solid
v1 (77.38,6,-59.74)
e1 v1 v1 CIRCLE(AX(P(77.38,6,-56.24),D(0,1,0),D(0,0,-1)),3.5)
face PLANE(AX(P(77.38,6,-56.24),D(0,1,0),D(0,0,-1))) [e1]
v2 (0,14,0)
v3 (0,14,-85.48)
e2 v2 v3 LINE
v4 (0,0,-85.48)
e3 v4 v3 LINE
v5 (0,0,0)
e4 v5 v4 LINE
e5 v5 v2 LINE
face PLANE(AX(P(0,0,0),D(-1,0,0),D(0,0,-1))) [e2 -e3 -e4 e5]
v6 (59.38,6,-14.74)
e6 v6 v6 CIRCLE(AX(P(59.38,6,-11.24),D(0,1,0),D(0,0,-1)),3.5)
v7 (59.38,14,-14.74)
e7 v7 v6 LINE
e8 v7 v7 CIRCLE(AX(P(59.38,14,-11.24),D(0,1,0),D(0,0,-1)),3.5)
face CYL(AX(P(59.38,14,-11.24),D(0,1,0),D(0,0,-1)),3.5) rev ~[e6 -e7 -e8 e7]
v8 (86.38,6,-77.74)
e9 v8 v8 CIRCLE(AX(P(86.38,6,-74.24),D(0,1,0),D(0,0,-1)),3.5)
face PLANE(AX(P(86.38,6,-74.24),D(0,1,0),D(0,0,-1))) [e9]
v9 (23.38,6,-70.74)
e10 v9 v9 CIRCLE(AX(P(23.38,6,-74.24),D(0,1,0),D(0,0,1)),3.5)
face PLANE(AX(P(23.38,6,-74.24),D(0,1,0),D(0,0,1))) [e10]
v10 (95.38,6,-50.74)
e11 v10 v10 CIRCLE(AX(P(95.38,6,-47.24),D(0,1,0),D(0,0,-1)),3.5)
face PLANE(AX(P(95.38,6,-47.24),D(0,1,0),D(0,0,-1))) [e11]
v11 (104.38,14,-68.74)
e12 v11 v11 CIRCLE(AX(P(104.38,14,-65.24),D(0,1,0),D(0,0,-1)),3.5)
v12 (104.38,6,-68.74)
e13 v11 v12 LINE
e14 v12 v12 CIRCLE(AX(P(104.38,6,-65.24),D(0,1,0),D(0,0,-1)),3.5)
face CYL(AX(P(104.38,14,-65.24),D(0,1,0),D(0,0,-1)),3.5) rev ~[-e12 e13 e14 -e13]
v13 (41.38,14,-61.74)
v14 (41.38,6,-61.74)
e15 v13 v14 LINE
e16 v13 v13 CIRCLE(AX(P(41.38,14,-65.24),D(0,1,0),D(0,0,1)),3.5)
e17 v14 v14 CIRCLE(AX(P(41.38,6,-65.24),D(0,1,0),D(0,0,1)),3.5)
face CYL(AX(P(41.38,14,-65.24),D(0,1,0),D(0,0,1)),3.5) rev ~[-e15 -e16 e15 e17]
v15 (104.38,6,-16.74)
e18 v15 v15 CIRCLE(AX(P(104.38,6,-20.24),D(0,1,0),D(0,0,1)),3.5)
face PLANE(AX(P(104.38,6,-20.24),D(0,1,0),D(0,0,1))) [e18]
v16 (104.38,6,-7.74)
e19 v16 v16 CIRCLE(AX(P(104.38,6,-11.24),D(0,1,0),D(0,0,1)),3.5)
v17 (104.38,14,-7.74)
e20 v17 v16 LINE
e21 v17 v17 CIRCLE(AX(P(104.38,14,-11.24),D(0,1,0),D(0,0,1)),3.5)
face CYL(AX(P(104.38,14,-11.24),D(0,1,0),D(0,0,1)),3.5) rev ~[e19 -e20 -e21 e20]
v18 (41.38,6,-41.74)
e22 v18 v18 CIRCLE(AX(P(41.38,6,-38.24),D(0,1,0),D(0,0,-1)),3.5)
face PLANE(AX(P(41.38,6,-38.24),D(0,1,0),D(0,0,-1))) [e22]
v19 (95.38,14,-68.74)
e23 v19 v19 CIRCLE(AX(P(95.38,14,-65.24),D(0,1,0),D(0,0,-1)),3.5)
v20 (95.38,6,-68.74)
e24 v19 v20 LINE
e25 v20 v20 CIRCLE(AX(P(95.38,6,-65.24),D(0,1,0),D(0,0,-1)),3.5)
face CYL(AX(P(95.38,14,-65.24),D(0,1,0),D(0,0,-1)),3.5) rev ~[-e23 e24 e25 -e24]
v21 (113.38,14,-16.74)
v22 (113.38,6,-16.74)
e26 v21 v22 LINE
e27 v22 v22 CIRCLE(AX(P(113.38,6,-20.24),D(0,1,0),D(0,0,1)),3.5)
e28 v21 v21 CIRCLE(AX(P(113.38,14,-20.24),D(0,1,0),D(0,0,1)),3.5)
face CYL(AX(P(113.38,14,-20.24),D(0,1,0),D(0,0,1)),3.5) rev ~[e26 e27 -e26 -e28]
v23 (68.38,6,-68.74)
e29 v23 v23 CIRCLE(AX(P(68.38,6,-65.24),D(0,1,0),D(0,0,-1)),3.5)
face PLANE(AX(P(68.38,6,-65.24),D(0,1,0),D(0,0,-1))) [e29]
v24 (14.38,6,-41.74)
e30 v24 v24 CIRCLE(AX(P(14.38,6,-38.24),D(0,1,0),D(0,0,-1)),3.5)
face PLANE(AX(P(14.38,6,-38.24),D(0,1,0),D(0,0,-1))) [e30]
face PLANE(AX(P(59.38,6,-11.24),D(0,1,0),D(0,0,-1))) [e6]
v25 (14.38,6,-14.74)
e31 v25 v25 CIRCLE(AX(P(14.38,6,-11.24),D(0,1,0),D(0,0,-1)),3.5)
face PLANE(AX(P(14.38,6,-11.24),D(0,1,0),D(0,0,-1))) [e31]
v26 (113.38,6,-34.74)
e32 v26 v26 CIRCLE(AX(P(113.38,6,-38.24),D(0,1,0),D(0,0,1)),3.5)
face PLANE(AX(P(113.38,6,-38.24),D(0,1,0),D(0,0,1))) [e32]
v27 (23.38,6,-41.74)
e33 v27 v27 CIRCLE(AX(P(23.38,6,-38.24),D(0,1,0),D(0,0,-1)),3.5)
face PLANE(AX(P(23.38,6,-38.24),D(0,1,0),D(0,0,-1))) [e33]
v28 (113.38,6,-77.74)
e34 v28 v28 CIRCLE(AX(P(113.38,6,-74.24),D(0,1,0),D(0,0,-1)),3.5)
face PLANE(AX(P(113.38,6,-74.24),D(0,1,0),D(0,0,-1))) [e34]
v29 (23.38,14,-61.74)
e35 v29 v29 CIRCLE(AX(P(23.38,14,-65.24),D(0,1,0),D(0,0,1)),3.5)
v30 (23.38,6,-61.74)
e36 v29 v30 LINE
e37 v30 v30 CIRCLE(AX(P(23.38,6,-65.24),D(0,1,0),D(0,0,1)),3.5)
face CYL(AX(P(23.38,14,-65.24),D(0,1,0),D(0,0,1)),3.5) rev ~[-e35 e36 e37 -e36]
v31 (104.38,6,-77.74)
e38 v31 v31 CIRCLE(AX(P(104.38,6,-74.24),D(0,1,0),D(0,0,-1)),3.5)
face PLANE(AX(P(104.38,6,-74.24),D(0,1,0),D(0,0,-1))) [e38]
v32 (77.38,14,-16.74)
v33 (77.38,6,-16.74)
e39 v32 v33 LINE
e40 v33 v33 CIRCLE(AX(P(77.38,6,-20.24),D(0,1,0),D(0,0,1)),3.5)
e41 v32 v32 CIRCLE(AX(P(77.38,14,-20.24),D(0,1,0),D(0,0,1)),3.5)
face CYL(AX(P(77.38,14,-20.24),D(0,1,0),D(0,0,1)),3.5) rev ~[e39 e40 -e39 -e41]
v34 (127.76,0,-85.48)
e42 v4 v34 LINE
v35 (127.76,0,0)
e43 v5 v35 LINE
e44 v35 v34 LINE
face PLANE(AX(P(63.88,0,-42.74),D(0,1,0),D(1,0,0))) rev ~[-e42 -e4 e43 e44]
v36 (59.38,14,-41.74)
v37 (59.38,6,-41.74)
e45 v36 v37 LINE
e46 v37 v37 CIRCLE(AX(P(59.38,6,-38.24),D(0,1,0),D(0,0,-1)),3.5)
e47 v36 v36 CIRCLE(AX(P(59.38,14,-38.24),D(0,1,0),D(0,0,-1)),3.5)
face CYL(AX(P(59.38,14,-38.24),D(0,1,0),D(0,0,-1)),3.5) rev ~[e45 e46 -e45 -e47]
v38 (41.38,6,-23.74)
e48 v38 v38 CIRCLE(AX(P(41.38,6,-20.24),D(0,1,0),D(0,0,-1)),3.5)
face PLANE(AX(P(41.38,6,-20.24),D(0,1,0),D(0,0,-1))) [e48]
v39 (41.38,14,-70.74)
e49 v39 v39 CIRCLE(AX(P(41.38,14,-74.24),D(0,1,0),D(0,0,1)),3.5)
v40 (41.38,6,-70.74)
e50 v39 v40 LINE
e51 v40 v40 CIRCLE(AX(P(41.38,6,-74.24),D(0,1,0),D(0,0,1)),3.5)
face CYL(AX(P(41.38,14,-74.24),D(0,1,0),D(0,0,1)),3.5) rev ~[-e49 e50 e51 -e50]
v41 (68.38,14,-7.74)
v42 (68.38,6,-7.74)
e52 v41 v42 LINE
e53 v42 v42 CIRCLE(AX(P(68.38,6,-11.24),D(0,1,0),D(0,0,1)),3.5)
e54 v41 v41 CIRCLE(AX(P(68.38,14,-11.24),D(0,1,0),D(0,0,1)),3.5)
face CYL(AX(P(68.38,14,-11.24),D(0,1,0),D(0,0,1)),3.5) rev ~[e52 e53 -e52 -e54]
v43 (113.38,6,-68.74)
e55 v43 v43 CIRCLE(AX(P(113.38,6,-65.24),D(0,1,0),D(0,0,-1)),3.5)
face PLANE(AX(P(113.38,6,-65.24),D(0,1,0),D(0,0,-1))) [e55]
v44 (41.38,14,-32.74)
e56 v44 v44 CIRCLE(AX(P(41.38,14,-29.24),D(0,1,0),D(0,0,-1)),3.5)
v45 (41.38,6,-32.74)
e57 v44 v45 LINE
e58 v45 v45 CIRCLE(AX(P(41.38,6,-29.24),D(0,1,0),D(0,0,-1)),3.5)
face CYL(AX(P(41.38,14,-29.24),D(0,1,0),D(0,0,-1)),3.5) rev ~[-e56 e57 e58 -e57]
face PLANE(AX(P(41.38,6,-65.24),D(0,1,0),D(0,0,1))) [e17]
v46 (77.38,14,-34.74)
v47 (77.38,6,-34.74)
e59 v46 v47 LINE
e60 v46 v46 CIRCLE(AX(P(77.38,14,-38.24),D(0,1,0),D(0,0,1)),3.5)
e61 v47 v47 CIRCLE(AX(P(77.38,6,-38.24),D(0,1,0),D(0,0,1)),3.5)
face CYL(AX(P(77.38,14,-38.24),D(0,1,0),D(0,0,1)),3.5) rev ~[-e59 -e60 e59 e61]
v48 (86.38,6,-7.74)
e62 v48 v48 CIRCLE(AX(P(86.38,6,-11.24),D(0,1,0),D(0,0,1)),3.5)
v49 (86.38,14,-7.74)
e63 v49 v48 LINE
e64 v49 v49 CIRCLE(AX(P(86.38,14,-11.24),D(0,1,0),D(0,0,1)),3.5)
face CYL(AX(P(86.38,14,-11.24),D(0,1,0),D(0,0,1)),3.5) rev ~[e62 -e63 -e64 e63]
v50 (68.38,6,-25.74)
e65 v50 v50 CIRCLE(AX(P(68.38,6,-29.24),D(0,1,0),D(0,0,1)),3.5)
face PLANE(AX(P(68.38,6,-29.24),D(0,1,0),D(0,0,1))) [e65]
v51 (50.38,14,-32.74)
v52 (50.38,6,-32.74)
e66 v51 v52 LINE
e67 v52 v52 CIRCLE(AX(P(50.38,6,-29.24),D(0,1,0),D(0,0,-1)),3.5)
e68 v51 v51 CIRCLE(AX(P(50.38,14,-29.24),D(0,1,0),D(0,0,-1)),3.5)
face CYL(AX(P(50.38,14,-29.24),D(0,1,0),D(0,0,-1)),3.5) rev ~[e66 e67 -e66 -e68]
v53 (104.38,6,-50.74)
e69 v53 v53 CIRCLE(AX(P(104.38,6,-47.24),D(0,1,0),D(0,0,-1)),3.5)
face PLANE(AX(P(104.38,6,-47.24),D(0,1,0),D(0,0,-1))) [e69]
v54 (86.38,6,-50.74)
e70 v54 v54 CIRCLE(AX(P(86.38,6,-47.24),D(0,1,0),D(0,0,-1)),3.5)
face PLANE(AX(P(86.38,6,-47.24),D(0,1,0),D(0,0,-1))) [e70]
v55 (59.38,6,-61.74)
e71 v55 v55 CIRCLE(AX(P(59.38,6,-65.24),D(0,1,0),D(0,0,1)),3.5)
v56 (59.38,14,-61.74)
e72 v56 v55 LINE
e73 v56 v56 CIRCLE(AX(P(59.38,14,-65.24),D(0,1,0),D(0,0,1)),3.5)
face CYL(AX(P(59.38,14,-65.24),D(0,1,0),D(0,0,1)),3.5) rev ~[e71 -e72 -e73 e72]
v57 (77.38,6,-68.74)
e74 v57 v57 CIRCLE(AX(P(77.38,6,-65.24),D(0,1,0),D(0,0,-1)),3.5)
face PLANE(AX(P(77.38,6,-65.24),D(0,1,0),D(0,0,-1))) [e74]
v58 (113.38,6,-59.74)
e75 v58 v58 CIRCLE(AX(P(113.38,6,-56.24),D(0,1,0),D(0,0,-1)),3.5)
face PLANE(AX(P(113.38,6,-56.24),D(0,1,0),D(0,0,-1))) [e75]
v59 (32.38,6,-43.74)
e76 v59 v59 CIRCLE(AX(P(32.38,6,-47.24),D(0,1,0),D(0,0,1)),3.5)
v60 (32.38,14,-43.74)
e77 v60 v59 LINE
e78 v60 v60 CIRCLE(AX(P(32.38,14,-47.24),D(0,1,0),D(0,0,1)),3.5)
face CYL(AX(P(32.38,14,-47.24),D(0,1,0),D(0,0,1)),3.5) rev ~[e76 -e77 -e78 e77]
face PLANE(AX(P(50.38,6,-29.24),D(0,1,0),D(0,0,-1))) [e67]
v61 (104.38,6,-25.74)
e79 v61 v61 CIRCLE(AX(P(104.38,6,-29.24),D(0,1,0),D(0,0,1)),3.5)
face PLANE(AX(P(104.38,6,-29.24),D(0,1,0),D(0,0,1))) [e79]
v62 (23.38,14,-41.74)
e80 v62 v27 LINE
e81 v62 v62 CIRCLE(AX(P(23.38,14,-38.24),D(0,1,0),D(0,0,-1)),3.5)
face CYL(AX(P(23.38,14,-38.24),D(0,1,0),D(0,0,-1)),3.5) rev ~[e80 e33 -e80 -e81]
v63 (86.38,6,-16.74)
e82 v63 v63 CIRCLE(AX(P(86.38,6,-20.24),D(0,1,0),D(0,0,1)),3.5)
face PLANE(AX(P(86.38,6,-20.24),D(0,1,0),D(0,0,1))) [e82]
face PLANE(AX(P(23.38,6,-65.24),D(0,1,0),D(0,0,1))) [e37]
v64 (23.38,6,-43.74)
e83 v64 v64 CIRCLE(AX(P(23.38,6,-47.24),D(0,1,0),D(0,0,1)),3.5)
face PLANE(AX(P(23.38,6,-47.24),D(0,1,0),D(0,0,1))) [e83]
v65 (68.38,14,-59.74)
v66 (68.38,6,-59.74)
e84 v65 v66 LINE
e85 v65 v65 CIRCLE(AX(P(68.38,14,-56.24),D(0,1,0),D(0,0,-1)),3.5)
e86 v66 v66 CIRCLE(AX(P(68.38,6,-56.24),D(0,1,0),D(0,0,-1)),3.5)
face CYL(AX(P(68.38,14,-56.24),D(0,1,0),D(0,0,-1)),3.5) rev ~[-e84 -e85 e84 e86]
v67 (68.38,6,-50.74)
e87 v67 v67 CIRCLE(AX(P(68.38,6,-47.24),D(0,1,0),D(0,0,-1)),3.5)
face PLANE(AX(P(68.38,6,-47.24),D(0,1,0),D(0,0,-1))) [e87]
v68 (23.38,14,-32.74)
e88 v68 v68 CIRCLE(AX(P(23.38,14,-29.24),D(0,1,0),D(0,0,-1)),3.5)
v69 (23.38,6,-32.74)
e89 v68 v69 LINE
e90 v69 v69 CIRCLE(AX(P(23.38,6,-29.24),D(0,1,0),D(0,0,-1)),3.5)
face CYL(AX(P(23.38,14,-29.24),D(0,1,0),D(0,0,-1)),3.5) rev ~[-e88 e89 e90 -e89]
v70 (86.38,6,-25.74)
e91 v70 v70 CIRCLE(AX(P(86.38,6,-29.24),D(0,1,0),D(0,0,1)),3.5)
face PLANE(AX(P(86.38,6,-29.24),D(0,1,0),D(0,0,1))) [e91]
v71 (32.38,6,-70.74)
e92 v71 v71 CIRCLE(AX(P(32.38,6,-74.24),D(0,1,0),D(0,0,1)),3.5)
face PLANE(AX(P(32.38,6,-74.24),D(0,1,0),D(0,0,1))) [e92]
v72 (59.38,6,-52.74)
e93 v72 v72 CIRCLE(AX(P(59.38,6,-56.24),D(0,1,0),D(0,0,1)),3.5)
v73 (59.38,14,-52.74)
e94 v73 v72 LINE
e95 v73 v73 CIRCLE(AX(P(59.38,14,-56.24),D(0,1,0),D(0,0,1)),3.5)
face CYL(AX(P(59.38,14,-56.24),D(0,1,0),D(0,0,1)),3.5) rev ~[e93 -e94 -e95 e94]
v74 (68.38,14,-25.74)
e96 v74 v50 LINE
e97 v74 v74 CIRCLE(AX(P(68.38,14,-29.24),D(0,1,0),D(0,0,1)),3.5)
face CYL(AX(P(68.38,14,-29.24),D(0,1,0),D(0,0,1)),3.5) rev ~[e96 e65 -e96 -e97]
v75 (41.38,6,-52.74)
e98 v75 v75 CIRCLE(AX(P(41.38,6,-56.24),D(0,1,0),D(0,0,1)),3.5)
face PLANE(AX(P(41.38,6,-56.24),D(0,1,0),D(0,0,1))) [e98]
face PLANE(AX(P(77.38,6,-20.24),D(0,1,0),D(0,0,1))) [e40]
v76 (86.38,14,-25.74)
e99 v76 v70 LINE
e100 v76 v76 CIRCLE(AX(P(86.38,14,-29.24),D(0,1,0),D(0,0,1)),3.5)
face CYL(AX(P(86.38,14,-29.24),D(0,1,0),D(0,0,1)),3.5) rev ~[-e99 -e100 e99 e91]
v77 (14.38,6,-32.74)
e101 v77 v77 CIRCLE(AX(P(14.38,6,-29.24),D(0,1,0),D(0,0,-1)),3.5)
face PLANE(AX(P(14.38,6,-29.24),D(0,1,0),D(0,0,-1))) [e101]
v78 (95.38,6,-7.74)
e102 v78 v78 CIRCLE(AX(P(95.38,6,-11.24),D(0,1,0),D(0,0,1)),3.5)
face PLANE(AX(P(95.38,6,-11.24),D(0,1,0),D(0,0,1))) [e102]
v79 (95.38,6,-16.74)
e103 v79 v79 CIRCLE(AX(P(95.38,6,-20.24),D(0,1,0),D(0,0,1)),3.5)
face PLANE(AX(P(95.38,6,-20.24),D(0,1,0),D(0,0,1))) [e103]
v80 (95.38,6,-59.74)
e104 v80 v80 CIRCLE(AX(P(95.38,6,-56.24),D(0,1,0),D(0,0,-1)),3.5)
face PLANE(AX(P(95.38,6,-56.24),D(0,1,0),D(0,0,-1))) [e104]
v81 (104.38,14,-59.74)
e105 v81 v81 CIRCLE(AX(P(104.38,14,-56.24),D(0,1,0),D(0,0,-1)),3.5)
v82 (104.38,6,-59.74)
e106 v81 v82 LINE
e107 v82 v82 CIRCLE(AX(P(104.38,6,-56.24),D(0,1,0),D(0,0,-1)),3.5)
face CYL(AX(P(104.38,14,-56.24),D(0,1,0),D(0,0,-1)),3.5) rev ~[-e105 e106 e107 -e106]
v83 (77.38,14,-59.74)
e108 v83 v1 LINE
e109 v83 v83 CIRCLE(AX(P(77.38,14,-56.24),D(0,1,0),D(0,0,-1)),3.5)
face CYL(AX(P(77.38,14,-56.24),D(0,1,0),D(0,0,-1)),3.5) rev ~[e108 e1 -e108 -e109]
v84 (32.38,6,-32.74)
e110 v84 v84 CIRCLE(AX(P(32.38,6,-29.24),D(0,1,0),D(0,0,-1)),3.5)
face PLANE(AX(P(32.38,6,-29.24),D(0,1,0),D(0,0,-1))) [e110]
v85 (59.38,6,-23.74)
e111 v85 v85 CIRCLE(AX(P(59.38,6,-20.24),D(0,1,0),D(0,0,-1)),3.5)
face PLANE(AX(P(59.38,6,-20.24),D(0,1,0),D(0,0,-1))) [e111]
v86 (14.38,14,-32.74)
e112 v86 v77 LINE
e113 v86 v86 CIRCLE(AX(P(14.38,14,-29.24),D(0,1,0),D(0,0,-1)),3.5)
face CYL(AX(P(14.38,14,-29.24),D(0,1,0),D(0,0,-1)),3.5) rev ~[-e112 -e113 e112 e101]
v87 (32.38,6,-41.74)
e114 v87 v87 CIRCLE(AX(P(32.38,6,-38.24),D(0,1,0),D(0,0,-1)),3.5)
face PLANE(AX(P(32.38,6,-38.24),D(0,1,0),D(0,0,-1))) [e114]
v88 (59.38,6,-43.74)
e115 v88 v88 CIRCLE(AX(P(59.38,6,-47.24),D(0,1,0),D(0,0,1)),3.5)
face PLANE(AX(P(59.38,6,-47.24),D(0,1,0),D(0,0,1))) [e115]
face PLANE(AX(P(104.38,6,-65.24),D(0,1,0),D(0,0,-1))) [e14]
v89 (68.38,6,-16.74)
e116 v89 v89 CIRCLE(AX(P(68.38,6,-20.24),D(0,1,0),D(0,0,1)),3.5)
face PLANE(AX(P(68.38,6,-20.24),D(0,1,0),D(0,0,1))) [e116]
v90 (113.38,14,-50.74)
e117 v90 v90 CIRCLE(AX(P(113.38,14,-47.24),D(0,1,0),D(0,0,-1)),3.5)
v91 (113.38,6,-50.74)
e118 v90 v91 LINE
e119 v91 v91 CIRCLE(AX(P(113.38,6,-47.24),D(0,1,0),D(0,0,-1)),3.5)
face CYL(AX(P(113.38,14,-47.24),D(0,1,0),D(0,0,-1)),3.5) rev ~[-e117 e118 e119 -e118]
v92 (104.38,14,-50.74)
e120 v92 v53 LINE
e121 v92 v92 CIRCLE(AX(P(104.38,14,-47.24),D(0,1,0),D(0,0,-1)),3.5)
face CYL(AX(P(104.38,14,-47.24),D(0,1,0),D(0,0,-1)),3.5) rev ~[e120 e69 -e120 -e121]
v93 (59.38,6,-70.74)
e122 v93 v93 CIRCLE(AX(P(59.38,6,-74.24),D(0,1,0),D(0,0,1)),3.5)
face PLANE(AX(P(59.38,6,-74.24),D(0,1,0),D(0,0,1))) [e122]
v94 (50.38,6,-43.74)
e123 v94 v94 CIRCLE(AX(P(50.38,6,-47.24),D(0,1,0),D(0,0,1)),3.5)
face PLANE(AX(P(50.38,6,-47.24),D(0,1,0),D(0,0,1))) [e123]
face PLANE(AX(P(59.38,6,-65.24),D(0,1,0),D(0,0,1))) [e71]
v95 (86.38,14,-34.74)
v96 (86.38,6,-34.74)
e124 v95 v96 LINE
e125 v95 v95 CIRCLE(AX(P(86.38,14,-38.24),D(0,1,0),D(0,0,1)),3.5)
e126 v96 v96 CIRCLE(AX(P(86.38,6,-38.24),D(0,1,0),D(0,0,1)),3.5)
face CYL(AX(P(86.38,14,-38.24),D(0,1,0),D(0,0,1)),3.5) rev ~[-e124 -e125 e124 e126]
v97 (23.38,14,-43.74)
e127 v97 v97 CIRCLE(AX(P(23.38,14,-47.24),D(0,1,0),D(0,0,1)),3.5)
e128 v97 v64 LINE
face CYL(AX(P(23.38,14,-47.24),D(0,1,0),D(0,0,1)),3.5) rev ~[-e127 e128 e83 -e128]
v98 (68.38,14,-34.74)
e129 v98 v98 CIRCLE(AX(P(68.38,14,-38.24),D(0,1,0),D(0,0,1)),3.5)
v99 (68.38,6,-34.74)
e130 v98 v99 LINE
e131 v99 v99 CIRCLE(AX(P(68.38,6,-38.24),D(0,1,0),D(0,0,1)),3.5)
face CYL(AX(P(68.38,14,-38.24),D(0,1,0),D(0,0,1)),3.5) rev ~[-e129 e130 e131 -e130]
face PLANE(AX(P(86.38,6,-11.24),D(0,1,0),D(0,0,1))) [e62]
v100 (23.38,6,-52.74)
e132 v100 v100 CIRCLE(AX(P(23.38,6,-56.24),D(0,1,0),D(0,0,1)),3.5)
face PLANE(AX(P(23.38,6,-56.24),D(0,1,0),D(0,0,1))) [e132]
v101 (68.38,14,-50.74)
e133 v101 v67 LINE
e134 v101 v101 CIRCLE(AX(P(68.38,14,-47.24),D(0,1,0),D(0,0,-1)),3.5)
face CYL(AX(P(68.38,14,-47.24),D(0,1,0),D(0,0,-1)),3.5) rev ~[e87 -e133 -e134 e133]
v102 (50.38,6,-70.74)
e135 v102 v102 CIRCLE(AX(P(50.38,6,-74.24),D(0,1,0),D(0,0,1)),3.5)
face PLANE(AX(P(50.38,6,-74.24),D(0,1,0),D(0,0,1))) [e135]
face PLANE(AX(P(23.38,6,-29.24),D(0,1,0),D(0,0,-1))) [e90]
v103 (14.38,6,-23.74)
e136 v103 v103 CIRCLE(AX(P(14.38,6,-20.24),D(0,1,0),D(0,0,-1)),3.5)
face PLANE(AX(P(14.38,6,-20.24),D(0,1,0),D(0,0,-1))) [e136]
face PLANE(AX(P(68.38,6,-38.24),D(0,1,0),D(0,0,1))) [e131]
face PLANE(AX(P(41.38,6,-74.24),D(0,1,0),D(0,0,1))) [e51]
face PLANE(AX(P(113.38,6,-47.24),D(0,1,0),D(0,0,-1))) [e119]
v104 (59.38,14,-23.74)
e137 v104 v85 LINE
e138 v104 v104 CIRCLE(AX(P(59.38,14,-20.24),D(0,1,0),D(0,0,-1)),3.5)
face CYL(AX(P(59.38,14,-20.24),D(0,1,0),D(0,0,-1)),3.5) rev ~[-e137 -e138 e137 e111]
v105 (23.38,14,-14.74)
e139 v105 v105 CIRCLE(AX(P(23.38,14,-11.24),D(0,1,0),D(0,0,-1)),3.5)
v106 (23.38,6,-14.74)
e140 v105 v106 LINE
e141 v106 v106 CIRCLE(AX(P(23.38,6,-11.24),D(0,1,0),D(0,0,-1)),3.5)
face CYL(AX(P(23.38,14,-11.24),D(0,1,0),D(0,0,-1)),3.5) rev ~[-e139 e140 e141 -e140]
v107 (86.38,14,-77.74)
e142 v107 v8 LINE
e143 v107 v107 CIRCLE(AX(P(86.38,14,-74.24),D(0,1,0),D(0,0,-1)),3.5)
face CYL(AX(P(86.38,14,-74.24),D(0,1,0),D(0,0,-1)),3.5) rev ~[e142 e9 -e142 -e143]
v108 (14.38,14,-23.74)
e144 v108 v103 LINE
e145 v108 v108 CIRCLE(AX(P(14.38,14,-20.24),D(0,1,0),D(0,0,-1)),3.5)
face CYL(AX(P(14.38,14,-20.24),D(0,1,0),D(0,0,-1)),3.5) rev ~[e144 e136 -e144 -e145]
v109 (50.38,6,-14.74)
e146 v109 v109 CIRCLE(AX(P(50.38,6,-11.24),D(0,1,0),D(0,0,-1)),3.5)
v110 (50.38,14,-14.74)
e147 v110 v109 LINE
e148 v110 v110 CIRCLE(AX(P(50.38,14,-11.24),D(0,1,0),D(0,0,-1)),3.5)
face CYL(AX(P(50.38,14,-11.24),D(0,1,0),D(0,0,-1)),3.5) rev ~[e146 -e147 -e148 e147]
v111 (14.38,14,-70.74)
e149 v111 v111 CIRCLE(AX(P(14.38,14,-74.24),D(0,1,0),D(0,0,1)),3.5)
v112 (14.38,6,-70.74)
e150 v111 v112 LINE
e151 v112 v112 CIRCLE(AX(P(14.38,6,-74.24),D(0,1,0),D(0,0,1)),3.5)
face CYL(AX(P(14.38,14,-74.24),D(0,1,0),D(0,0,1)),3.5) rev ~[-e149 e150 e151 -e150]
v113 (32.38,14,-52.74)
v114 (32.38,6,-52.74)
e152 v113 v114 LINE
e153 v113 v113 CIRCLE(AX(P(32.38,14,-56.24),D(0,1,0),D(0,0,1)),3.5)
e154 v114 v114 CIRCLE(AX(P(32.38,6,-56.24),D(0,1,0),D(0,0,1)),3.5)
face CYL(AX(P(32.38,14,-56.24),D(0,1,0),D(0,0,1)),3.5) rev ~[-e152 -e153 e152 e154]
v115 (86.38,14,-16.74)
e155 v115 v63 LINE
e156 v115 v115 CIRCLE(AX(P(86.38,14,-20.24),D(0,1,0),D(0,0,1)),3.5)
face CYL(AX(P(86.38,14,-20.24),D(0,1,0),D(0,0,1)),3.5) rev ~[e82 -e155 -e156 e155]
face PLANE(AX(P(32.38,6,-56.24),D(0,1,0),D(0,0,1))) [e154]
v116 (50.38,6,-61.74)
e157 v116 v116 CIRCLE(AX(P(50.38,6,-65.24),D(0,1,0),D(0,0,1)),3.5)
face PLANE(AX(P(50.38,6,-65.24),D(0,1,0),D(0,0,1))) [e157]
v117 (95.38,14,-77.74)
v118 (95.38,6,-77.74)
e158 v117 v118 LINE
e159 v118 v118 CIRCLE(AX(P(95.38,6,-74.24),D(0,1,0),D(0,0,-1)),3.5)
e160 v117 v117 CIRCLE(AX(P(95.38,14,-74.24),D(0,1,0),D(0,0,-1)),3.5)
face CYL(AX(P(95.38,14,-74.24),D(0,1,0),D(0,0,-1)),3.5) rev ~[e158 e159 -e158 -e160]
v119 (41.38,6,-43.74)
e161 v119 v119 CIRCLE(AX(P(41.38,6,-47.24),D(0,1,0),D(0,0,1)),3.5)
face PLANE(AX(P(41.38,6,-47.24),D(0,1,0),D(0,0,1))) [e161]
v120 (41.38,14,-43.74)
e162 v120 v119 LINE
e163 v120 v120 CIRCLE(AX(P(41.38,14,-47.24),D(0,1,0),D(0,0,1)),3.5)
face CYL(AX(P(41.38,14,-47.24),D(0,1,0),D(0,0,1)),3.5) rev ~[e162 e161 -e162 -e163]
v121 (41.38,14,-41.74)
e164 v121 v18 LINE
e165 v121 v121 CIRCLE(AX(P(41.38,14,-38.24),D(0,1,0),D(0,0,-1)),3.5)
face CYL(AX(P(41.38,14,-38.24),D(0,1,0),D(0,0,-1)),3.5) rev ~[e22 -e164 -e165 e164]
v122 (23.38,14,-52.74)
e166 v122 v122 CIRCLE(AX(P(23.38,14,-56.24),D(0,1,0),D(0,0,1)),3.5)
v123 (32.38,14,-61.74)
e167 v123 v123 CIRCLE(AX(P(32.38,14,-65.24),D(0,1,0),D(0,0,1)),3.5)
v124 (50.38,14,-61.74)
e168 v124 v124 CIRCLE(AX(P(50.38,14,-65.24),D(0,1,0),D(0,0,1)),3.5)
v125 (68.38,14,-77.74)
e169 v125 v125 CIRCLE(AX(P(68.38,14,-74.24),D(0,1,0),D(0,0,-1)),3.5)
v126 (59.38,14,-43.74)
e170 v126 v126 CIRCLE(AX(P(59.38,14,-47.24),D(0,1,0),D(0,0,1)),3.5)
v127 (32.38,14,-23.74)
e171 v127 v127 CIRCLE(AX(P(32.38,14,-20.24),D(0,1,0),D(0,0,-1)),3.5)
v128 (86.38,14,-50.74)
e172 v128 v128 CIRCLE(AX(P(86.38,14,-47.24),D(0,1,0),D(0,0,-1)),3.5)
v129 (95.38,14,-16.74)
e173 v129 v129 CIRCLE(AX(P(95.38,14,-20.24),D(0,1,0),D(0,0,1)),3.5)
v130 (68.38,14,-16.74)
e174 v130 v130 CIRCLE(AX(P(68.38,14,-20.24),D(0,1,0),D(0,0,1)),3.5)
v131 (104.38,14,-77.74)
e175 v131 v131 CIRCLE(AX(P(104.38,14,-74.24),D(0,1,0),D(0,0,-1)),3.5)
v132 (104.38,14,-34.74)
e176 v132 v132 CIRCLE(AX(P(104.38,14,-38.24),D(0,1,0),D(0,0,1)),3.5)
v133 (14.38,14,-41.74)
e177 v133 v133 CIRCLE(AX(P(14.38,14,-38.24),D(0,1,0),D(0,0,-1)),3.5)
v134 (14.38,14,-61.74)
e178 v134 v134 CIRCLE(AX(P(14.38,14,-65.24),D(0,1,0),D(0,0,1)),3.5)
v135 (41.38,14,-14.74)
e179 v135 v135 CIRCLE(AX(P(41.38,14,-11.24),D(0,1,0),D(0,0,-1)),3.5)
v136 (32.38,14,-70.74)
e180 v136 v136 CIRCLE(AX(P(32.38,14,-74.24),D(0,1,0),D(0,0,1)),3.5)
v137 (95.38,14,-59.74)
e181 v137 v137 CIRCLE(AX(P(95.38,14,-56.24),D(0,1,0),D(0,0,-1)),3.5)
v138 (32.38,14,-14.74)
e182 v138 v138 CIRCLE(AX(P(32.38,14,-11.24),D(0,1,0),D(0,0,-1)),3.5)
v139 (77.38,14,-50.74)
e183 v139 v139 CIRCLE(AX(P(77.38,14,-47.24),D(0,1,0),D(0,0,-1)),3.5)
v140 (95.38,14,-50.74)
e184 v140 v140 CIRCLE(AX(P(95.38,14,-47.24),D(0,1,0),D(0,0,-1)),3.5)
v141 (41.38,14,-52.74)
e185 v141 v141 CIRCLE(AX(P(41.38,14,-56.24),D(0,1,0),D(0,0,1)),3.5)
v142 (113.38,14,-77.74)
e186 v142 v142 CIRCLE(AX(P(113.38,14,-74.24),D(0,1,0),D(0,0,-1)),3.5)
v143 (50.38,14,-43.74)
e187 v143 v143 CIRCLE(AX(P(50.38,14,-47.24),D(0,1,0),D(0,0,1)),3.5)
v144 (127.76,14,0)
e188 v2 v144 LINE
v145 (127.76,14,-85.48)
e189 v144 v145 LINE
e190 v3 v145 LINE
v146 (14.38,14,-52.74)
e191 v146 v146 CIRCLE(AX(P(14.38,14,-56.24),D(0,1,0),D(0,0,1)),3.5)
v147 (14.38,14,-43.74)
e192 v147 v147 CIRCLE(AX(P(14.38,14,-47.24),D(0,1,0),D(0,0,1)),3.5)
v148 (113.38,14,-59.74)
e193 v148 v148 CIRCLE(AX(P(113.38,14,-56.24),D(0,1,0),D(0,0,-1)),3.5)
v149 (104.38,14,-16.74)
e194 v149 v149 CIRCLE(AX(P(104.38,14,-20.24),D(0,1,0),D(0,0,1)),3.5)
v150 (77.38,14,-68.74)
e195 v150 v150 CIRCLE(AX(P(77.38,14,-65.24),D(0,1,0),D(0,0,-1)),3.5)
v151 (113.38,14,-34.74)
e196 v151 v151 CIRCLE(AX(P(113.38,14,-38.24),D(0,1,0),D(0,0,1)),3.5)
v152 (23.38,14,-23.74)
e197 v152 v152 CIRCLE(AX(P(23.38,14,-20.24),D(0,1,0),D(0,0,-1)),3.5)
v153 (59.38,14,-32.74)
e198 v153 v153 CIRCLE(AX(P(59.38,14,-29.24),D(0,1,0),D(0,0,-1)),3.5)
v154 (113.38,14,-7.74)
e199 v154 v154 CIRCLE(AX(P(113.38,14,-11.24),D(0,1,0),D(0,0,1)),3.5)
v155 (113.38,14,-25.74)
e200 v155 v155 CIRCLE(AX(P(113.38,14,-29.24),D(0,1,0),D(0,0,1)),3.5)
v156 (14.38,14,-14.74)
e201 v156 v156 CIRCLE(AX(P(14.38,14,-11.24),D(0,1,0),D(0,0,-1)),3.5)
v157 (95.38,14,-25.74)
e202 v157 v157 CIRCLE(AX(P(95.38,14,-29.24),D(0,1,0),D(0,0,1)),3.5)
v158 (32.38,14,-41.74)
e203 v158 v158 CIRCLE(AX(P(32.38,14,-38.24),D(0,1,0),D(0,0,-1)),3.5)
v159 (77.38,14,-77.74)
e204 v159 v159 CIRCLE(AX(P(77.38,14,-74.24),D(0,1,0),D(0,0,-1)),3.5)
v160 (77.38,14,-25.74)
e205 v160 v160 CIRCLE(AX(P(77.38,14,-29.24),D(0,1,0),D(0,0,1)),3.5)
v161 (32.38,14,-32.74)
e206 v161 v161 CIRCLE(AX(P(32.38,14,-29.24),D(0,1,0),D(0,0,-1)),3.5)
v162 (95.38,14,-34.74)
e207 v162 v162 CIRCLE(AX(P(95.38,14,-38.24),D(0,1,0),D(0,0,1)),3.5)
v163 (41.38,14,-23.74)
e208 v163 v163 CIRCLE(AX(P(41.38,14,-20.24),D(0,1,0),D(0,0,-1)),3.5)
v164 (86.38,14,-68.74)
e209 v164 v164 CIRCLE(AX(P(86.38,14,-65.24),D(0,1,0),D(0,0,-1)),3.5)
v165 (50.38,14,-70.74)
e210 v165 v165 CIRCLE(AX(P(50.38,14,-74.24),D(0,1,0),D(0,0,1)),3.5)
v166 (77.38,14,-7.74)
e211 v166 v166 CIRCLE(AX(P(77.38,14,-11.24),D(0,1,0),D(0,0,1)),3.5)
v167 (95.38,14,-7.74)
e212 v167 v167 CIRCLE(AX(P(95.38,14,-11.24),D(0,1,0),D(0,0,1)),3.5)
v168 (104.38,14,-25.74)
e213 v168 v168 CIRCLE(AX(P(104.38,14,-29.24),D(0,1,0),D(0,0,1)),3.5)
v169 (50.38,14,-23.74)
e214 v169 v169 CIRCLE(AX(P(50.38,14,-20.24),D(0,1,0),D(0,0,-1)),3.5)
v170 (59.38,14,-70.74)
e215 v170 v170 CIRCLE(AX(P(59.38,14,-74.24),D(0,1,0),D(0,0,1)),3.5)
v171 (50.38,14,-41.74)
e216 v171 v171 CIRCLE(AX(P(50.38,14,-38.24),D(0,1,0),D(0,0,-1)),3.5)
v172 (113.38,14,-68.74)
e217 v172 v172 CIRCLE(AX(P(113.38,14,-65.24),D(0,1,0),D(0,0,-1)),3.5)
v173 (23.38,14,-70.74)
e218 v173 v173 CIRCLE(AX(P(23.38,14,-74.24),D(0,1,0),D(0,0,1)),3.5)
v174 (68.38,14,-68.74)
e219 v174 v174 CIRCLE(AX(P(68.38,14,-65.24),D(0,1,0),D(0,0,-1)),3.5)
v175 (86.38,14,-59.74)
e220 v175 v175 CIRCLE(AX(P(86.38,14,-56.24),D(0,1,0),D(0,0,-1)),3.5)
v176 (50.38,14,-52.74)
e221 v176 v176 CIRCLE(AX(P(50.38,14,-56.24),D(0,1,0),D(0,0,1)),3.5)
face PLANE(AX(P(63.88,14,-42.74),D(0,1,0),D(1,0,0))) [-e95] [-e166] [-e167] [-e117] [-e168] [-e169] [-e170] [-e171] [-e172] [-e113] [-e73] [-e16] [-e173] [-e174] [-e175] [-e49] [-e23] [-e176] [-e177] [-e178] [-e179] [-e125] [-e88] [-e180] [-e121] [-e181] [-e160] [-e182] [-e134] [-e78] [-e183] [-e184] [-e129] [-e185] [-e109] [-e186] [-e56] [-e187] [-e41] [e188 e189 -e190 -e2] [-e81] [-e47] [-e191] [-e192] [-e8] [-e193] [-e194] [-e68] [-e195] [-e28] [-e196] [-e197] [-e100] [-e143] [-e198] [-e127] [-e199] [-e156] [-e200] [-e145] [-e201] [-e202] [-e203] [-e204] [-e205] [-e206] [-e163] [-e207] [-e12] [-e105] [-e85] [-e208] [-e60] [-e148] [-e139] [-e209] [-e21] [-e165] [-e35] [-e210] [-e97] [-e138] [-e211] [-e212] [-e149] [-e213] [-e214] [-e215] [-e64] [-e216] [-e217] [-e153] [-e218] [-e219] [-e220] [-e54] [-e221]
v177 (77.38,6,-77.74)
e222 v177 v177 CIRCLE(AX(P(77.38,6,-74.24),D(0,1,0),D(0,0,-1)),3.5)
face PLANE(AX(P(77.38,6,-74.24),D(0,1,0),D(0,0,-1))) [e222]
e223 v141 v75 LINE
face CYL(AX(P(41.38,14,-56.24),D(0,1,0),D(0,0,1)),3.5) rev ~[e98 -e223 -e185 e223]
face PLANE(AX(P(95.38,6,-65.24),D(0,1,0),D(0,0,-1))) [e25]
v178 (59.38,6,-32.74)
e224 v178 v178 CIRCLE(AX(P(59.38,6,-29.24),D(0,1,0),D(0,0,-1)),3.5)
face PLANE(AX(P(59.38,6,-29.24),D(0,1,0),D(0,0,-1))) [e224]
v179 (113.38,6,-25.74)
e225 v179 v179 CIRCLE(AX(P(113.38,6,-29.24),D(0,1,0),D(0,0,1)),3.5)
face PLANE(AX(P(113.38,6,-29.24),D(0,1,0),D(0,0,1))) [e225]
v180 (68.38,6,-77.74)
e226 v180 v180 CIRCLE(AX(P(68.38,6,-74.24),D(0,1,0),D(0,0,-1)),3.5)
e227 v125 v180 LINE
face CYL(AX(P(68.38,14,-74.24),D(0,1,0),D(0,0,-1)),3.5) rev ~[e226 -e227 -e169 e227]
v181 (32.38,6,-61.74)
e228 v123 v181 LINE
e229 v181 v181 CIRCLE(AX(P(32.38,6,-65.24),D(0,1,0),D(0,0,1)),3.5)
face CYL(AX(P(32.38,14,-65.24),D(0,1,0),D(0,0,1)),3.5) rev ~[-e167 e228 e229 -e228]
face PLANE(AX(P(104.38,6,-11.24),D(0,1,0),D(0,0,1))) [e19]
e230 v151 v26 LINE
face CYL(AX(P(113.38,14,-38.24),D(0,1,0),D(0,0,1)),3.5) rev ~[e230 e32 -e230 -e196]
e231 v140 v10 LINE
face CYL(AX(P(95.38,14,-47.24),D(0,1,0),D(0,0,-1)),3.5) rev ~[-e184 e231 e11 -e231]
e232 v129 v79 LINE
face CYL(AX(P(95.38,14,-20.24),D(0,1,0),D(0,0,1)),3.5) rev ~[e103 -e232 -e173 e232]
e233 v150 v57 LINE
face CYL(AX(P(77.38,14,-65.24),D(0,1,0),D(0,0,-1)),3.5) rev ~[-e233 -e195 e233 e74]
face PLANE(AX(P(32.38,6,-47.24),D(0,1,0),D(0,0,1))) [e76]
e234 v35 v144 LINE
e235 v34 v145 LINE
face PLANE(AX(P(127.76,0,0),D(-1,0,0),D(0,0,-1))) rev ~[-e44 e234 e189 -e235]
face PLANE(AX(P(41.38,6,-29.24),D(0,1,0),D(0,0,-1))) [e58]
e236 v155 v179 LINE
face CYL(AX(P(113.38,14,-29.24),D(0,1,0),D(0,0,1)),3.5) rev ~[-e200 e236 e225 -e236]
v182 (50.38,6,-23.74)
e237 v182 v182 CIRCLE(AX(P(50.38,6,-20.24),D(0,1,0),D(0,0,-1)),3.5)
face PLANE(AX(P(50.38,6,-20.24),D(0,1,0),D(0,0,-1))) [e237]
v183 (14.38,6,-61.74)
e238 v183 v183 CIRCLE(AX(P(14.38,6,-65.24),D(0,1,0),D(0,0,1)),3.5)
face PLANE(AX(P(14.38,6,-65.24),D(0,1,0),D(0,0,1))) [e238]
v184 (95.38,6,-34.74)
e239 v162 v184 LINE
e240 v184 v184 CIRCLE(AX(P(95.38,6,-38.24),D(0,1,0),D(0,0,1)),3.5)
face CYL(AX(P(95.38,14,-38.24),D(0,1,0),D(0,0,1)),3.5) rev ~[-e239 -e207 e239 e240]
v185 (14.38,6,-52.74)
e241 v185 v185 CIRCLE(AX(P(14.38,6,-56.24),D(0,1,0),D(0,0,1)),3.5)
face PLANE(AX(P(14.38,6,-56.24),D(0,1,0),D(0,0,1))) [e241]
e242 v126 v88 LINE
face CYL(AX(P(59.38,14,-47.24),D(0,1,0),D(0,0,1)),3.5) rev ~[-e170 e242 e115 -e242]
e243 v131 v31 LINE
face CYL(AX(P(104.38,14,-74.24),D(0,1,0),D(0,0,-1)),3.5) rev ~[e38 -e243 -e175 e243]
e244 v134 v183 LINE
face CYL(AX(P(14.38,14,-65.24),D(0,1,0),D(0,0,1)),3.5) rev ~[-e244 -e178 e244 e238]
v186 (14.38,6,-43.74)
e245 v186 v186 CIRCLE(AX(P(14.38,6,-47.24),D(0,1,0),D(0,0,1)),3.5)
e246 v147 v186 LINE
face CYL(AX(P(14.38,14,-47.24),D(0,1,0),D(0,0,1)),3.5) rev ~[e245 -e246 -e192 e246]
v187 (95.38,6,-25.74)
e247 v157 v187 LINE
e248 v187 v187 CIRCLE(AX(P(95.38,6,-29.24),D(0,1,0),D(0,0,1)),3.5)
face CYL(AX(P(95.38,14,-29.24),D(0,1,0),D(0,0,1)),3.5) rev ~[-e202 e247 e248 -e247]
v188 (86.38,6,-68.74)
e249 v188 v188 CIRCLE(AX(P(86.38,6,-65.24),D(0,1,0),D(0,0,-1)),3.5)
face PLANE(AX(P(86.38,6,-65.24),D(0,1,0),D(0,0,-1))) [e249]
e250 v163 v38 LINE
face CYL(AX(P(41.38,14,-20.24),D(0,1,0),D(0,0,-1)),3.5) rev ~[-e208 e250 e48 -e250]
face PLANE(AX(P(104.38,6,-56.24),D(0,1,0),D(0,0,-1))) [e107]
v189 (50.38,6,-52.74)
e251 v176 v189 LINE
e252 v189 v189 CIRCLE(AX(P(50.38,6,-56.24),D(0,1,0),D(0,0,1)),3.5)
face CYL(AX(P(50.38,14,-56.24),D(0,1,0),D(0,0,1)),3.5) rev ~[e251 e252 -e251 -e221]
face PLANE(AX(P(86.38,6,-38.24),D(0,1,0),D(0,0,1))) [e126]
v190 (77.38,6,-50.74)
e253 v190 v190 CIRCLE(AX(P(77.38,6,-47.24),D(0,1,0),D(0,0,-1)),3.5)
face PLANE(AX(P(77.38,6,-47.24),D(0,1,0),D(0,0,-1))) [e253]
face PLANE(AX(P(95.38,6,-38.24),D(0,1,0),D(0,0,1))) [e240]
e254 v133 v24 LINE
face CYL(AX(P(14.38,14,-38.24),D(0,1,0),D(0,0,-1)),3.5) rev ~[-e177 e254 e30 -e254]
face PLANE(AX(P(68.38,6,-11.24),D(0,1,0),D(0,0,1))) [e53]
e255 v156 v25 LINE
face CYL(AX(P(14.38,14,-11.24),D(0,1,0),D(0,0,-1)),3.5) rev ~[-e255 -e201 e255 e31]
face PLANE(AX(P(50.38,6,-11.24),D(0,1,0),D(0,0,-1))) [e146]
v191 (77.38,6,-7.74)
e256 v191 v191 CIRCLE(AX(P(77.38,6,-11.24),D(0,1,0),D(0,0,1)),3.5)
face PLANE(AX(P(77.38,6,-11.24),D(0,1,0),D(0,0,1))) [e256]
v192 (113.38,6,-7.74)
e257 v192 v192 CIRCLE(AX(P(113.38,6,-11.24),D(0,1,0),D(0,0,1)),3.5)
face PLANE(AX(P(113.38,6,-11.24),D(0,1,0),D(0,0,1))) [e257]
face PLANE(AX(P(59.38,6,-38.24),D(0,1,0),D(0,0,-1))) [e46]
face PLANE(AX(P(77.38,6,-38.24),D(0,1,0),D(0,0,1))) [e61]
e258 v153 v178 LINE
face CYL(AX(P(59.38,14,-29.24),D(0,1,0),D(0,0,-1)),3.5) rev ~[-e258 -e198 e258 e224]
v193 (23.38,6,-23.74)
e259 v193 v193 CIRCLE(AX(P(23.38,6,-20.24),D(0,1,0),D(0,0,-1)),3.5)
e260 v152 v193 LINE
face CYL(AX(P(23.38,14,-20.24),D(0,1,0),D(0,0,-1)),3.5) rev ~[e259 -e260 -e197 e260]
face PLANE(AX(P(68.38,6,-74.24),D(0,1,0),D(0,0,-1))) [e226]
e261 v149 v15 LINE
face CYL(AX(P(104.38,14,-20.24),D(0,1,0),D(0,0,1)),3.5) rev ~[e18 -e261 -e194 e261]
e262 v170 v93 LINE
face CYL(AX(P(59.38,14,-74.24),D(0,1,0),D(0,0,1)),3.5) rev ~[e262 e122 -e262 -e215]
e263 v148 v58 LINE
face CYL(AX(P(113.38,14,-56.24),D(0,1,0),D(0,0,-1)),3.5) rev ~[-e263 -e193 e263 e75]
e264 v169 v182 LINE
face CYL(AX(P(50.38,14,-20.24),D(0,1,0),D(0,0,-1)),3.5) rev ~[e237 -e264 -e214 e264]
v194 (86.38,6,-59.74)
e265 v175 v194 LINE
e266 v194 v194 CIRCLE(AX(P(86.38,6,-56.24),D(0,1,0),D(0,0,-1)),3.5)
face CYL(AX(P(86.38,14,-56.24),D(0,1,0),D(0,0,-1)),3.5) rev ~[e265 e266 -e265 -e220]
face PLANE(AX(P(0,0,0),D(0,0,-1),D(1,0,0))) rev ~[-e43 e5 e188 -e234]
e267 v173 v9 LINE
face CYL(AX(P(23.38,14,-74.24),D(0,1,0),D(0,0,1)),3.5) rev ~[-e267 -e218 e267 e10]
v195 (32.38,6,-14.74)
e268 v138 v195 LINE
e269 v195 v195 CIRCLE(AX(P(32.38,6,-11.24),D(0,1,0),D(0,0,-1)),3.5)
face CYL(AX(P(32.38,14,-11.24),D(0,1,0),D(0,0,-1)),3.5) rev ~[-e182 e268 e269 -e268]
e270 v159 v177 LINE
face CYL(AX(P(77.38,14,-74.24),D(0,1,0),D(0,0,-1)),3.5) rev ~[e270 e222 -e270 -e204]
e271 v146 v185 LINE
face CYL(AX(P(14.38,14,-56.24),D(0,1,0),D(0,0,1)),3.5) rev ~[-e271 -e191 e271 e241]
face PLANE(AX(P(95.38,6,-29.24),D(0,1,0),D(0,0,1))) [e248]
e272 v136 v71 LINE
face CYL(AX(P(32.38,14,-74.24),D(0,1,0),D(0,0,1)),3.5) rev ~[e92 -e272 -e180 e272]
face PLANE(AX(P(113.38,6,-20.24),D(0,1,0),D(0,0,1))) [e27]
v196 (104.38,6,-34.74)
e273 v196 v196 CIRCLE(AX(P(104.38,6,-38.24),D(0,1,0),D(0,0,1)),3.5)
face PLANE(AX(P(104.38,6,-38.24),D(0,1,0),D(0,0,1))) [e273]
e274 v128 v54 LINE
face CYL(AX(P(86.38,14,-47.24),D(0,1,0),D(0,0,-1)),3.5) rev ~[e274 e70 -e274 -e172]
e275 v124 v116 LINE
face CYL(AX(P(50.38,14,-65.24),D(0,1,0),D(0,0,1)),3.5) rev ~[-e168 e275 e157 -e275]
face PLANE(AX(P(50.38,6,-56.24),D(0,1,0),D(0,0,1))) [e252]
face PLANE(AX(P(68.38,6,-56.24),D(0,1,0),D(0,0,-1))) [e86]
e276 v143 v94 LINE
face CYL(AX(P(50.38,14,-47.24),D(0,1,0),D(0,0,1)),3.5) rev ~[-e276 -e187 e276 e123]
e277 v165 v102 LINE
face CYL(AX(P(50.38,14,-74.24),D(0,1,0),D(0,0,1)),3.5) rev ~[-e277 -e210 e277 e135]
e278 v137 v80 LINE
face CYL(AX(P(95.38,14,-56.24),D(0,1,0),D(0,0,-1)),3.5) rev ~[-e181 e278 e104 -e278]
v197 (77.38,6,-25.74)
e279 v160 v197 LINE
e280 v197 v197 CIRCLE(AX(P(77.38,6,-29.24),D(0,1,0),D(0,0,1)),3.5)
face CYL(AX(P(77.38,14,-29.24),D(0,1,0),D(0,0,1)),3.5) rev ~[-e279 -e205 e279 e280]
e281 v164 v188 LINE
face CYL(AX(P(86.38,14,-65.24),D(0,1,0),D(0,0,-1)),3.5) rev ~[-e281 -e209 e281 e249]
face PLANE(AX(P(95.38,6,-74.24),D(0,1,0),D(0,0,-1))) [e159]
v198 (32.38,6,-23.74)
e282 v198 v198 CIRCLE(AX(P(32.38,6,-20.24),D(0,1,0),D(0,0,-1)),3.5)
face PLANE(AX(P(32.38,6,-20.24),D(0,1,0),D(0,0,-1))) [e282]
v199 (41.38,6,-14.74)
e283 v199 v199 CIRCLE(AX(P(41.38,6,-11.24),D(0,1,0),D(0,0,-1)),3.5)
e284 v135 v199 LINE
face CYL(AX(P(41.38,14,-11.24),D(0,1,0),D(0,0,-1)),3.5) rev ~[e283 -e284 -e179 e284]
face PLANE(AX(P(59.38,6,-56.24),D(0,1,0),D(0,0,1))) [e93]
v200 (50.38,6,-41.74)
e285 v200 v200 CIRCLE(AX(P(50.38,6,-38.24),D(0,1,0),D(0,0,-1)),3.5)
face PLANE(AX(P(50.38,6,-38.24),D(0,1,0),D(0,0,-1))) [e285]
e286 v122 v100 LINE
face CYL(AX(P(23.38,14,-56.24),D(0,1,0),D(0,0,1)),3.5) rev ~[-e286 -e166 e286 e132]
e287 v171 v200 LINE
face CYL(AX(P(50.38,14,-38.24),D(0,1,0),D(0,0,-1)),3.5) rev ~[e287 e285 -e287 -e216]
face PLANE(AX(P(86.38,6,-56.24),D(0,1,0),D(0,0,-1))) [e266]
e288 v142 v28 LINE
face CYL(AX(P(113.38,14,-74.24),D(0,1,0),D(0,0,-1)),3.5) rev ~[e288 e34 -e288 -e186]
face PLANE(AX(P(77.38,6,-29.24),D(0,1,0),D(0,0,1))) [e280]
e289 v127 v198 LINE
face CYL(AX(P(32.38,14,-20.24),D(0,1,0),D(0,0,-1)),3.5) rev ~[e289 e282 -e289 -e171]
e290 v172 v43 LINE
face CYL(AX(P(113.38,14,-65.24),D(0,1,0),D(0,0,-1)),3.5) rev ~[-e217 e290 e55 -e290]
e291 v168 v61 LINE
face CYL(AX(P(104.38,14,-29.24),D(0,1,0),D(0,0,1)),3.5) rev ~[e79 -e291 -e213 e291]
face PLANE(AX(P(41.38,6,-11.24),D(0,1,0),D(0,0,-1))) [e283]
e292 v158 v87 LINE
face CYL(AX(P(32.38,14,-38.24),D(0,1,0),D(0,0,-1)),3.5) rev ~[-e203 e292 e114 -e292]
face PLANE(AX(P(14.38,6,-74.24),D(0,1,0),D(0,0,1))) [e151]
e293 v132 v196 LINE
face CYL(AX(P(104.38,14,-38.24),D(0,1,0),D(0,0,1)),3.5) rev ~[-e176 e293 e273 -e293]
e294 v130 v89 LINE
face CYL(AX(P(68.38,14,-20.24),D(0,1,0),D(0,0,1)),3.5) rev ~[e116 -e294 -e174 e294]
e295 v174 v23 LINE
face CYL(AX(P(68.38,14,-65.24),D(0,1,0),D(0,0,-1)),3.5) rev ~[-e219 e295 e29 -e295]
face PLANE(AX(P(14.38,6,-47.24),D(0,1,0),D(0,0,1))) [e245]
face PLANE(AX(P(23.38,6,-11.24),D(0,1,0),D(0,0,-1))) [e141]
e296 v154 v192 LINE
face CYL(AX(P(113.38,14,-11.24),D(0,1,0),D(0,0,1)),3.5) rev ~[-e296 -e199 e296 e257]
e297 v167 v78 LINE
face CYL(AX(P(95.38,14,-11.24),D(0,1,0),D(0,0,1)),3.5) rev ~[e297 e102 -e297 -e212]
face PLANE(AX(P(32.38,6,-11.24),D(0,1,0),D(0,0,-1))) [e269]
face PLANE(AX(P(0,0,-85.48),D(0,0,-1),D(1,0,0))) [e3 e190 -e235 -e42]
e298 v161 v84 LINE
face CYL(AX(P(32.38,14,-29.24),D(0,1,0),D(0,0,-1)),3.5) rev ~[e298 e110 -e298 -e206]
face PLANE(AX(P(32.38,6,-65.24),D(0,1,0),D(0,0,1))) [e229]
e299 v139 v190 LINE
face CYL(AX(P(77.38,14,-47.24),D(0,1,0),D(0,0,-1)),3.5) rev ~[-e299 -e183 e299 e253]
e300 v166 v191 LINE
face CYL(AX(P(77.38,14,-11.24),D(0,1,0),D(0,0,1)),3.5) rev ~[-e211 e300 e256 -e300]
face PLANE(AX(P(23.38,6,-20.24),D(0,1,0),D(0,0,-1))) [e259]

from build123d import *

# Parameters (mm, degrees)
SKETCH1_W           = 127.76
SKETCH1_H           = 85.48
BOSS_EXTRUDE1_DEPTH = 14
SKETCH6_R           = 3.5
CUT_EXTRUDE1_DEPTH  = 8


with BuildPart() as part:
    # Sketch1 → Boss-Extrude1 (new body)
    with BuildSketch(Plane(origin=(0, 0, 0), x_dir=(1, 0, 0), z_dir=(0, 1, 0))):
        with Locations((63.88, 42.74)):
            Rectangle(SKETCH1_W, SKETCH1_H)
    extrude(amount=BOSS_EXTRUDE1_DEPTH)

    # Sketch6 → Cut-Extrude1 (cut)
    with BuildSketch(Plane(origin=(0, 14, 0), x_dir=(1, 0, 0), z_dir=(0, 1, 0))):
        with Locations(Location((59.38, 47.24, 0), (0, 0, 270))):
            Circle(SKETCH6_R)
        with Locations(Location((14.38, 38.24, 0), (0, 0, 90))):
            Circle(SKETCH6_R)
        with Locations(Location((23.38, 38.24, 0), (0, 0, 90))):
            Circle(SKETCH6_R)
        with Locations(Location((32.38, 38.24, 0), (0, 0, 90))):
            Circle(SKETCH6_R)
        with Locations(Location((50.38, 47.24, 0), (0, 0, 270))):
            Circle(SKETCH6_R)
        with Locations(Location((41.38, 47.24, 0), (0, 0, 270))):
            Circle(SKETCH6_R)
        with Locations(Location((32.38, 47.24, 0), (0, 0, 270))):
            Circle(SKETCH6_R)
        with Locations(Location((23.38, 47.24, 0), (0, 0, 270))):
            Circle(SKETCH6_R)
        with Locations(Location((14.38, 47.24, 0), (0, 0, 270))):
            Circle(SKETCH6_R)
        with Locations(Location((41.38, 38.24, 0), (0, 0, 90))):
            Circle(SKETCH6_R)
        with Locations(Location((50.38, 38.24, 0), (0, 0, 90))):
            Circle(SKETCH6_R)
        with Locations(Location((59.38, 38.24, 0), (0, 0, 90))):
            Circle(SKETCH6_R)
        with Locations(Location((68.38, 38.24, 0), (0, 0, 270))):
            Circle(SKETCH6_R)
        with Locations(Location((77.38, 38.24, 0), (0, 0, 270))):
            Circle(SKETCH6_R)
        with Locations(Location((86.38, 38.24, 0), (0, 0, 270))):
            Circle(SKETCH6_R)
        with Locations(Location((113.38, 47.24, 0), (0, 0, 90))):
            Circle(SKETCH6_R)
        with Locations(Location((104.38, 47.24, 0), (0, 0, 90))):
            Circle(SKETCH6_R)
        with Locations(Location((95.38, 47.24, 0), (0, 0, 90))):
            Circle(SKETCH6_R)
        with Locations(Location((86.38, 47.24, 0), (0, 0, 90))):
            Circle(SKETCH6_R)
        with Locations(Location((77.38, 47.24, 0), (0, 0, 90))):
            Circle(SKETCH6_R)
        with Locations(Location((95.38, 38.24, 0), (0, 0, 270))):
            Circle(SKETCH6_R)
        with Locations(Location((104.38, 38.24, 0), (0, 0, 270))):
            Circle(SKETCH6_R)
        with Locations(Location((113.38, 38.24, 0), (0, 0, 270))):
            Circle(SKETCH6_R)
        with Locations(Location((68.38, 47.24, 0), (0, 0, 90))):
            Circle(SKETCH6_R)
        with Locations(Location((59.38, 56.24, 0), (0, 0, 270))):
            Circle(SKETCH6_R)
        with Locations(Location((50.38, 56.24, 0), (0, 0, 270))):
            Circle(SKETCH6_R)
        with Locations(Location((41.38, 56.24, 0), (0, 0, 270))):
            Circle(SKETCH6_R)
        with Locations(Location((32.38, 56.24, 0), (0, 0, 270))):
            Circle(SKETCH6_R)
        with Locations(Location((23.38, 56.24, 0), (0, 0, 270))):
            Circle(SKETCH6_R)
        with Locations(Location((14.38, 56.24, 0), (0, 0, 270))):
            Circle(SKETCH6_R)
        with Locations(Location((113.38, 56.24, 0), (0, 0, 90))):
            Circle(SKETCH6_R)
        with Locations(Location((104.38, 56.24, 0), (0, 0, 90))):
            Circle(SKETCH6_R)
        with Locations(Location((95.38, 56.24, 0), (0, 0, 90))):
            Circle(SKETCH6_R)
        with Locations(Location((86.38, 56.24, 0), (0, 0, 90))):
            Circle(SKETCH6_R)
        with Locations(Location((77.38, 56.24, 0), (0, 0, 90))):
            Circle(SKETCH6_R)
        with Locations(Location((68.38, 56.24, 0), (0, 0, 90))):
            Circle(SKETCH6_R)
        with Locations(Location((59.38, 65.24, 0), (0, 0, 270))):
            Circle(SKETCH6_R)
        with Locations(Location((50.38, 65.24, 0), (0, 0, 270))):
            Circle(SKETCH6_R)
        with Locations(Location((41.38, 65.24, 0), (0, 0, 270))):
            Circle(SKETCH6_R)
        with Locations(Location((32.38, 65.24, 0), (0, 0, 270))):
            Circle(SKETCH6_R)
        with Locations(Location((23.38, 65.24, 0), (0, 0, 270))):
            Circle(SKETCH6_R)
        with Locations(Location((14.38, 65.24, 0), (0, 0, 270))):
            Circle(SKETCH6_R)
        with Locations(Location((113.38, 65.24, 0), (0, 0, 90))):
            Circle(SKETCH6_R)
        with Locations(Location((104.38, 65.24, 0), (0, 0, 90))):
            Circle(SKETCH6_R)
        with Locations(Location((95.38, 65.24, 0), (0, 0, 90))):
            Circle(SKETCH6_R)
        with Locations(Location((86.38, 65.24, 0), (0, 0, 90))):
            Circle(SKETCH6_R)
        with Locations(Location((77.38, 65.24, 0), (0, 0, 90))):
            Circle(SKETCH6_R)
        with Locations(Location((68.38, 65.24, 0), (0, 0, 90))):
            Circle(SKETCH6_R)
        with Locations(Location((59.38, 74.24, 0), (0, 0, 270))):
            Circle(SKETCH6_R)
        with Locations(Location((50.38, 74.24, 0), (0, 0, 270))):
            Circle(SKETCH6_R)
        with Locations(Location((41.38, 74.24, 0), (0, 0, 270))):
            Circle(SKETCH6_R)
        with Locations(Location((32.38, 74.24, 0), (0, 0, 270))):
            Circle(SKETCH6_R)
        with Locations(Location((23.38, 74.24, 0), (0, 0, 270))):
            Circle(SKETCH6_R)
        with Locations(Location((14.38, 74.24, 0), (0, 0, 270))):
            Circle(SKETCH6_R)
        with Locations(Location((113.38, 74.24, 0), (0, 0, 90))):
            Circle(SKETCH6_R)
        with Locations(Location((104.38, 74.24, 0), (0, 0, 90))):
            Circle(SKETCH6_R)
        with Locations(Location((95.38, 74.24, 0), (0, 0, 90))):
            Circle(SKETCH6_R)
        with Locations(Location((86.38, 74.24, 0), (0, 0, 90))):
            Circle(SKETCH6_R)
        with Locations(Location((77.38, 74.24, 0), (0, 0, 90))):
            Circle(SKETCH6_R)
        with Locations(Location((68.38, 74.24, 0), (0, 0, 90))):
            Circle(SKETCH6_R)
        with Locations(Location((14.38, 29.24, 0), (0, 0, 90))):
            Circle(SKETCH6_R)
        with Locations(Location((23.38, 29.24, 0), (0, 0, 90))):
            Circle(SKETCH6_R)
        with Locations(Location((32.38, 29.24, 0), (0, 0, 90))):
            Circle(SKETCH6_R)
        with Locations(Location((41.38, 29.24, 0), (0, 0, 90))):
            Circle(SKETCH6_R)
        with Locations(Location((50.38, 29.24, 0), (0, 0, 90))):
            Circle(SKETCH6_R)
        with Locations(Location((59.38, 29.24, 0), (0, 0, 90))):
            Circle(SKETCH6_R)
        with Locations(Location((68.38, 29.24, 0), (0, 0, 270))):
            Circle(SKETCH6_R)
        with Locations(Location((77.38, 29.24, 0), (0, 0, 270))):
            Circle(SKETCH6_R)
        with Locations(Location((86.38, 29.24, 0), (0, 0, 270))):
            Circle(SKETCH6_R)
        with Locations(Location((95.38, 29.24, 0), (0, 0, 270))):
            Circle(SKETCH6_R)
        with Locations(Location((104.38, 29.24, 0), (0, 0, 270))):
            Circle(SKETCH6_R)
        with Locations(Location((113.38, 29.24, 0), (0, 0, 270))):
            Circle(SKETCH6_R)
        with Locations(Location((14.38, 20.24, 0), (0, 0, 90))):
            Circle(SKETCH6_R)
        with Locations(Location((23.38, 20.24, 0), (0, 0, 90))):
            Circle(SKETCH6_R)
        with Locations(Location((32.38, 20.24, 0), (0, 0, 90))):
            Circle(SKETCH6_R)
        with Locations(Location((41.38, 20.24, 0), (0, 0, 90))):
            Circle(SKETCH6_R)
        with Locations(Location((50.38, 20.24, 0), (0, 0, 90))):
            Circle(SKETCH6_R)
        with Locations(Location((59.38, 20.24, 0), (0, 0, 90))):
            Circle(SKETCH6_R)
        with Locations(Location((68.38, 20.24, 0), (0, 0, 270))):
            Circle(SKETCH6_R)
        with Locations(Location((77.38, 20.24, 0), (0, 0, 270))):
            Circle(SKETCH6_R)
        with Locations(Location((86.38, 20.24, 0), (0, 0, 270))):
            Circle(SKETCH6_R)
        with Locations(Location((95.38, 20.24, 0), (0, 0, 270))):
            Circle(SKETCH6_R)
        with Locations(Location((104.38, 20.24, 0), (0, 0, 270))):
            Circle(SKETCH6_R)
        with Locations(Location((113.38, 20.24, 0), (0, 0, 270))):
            Circle(SKETCH6_R)
        with Locations(Location((14.38, 11.24, 0), (0, 0, 90))):
            Circle(SKETCH6_R)
        with Locations(Location((23.38, 11.24, 0), (0, 0, 90))):
            Circle(SKETCH6_R)
        with Locations(Location((32.38, 11.24, 0), (0, 0, 90))):
            Circle(SKETCH6_R)
        with Locations(Location((41.38, 11.24, 0), (0, 0, 90))):
            Circle(SKETCH6_R)
        with Locations(Location((50.38, 11.24, 0), (0, 0, 90))):
            Circle(SKETCH6_R)
        with Locations(Location((59.38, 11.24, 0), (0, 0, 90))):
            Circle(SKETCH6_R)
        with Locations(Location((68.38, 11.24, 0), (0, 0, 270))):
            Circle(SKETCH6_R)
        with Locations(Location((77.38, 11.24, 0), (0, 0, 270))):
            Circle(SKETCH6_R)
        with Locations(Location((86.38, 11.24, 0), (0, 0, 270))):
            Circle(SKETCH6_R)
        with Locations(Location((95.38, 11.24, 0), (0, 0, 270))):
            Circle(SKETCH6_R)
        with Locations(Location((104.38, 11.24, 0), (0, 0, 270))):
            Circle(SKETCH6_R)
        with Locations(Location((113.38, 11.24, 0), (0, 0, 270))):
            Circle(SKETCH6_R)
    extrude(amount=-CUT_EXTRUDE1_DEPTH, mode=Mode.SUBTRACT)


solid = part.part
